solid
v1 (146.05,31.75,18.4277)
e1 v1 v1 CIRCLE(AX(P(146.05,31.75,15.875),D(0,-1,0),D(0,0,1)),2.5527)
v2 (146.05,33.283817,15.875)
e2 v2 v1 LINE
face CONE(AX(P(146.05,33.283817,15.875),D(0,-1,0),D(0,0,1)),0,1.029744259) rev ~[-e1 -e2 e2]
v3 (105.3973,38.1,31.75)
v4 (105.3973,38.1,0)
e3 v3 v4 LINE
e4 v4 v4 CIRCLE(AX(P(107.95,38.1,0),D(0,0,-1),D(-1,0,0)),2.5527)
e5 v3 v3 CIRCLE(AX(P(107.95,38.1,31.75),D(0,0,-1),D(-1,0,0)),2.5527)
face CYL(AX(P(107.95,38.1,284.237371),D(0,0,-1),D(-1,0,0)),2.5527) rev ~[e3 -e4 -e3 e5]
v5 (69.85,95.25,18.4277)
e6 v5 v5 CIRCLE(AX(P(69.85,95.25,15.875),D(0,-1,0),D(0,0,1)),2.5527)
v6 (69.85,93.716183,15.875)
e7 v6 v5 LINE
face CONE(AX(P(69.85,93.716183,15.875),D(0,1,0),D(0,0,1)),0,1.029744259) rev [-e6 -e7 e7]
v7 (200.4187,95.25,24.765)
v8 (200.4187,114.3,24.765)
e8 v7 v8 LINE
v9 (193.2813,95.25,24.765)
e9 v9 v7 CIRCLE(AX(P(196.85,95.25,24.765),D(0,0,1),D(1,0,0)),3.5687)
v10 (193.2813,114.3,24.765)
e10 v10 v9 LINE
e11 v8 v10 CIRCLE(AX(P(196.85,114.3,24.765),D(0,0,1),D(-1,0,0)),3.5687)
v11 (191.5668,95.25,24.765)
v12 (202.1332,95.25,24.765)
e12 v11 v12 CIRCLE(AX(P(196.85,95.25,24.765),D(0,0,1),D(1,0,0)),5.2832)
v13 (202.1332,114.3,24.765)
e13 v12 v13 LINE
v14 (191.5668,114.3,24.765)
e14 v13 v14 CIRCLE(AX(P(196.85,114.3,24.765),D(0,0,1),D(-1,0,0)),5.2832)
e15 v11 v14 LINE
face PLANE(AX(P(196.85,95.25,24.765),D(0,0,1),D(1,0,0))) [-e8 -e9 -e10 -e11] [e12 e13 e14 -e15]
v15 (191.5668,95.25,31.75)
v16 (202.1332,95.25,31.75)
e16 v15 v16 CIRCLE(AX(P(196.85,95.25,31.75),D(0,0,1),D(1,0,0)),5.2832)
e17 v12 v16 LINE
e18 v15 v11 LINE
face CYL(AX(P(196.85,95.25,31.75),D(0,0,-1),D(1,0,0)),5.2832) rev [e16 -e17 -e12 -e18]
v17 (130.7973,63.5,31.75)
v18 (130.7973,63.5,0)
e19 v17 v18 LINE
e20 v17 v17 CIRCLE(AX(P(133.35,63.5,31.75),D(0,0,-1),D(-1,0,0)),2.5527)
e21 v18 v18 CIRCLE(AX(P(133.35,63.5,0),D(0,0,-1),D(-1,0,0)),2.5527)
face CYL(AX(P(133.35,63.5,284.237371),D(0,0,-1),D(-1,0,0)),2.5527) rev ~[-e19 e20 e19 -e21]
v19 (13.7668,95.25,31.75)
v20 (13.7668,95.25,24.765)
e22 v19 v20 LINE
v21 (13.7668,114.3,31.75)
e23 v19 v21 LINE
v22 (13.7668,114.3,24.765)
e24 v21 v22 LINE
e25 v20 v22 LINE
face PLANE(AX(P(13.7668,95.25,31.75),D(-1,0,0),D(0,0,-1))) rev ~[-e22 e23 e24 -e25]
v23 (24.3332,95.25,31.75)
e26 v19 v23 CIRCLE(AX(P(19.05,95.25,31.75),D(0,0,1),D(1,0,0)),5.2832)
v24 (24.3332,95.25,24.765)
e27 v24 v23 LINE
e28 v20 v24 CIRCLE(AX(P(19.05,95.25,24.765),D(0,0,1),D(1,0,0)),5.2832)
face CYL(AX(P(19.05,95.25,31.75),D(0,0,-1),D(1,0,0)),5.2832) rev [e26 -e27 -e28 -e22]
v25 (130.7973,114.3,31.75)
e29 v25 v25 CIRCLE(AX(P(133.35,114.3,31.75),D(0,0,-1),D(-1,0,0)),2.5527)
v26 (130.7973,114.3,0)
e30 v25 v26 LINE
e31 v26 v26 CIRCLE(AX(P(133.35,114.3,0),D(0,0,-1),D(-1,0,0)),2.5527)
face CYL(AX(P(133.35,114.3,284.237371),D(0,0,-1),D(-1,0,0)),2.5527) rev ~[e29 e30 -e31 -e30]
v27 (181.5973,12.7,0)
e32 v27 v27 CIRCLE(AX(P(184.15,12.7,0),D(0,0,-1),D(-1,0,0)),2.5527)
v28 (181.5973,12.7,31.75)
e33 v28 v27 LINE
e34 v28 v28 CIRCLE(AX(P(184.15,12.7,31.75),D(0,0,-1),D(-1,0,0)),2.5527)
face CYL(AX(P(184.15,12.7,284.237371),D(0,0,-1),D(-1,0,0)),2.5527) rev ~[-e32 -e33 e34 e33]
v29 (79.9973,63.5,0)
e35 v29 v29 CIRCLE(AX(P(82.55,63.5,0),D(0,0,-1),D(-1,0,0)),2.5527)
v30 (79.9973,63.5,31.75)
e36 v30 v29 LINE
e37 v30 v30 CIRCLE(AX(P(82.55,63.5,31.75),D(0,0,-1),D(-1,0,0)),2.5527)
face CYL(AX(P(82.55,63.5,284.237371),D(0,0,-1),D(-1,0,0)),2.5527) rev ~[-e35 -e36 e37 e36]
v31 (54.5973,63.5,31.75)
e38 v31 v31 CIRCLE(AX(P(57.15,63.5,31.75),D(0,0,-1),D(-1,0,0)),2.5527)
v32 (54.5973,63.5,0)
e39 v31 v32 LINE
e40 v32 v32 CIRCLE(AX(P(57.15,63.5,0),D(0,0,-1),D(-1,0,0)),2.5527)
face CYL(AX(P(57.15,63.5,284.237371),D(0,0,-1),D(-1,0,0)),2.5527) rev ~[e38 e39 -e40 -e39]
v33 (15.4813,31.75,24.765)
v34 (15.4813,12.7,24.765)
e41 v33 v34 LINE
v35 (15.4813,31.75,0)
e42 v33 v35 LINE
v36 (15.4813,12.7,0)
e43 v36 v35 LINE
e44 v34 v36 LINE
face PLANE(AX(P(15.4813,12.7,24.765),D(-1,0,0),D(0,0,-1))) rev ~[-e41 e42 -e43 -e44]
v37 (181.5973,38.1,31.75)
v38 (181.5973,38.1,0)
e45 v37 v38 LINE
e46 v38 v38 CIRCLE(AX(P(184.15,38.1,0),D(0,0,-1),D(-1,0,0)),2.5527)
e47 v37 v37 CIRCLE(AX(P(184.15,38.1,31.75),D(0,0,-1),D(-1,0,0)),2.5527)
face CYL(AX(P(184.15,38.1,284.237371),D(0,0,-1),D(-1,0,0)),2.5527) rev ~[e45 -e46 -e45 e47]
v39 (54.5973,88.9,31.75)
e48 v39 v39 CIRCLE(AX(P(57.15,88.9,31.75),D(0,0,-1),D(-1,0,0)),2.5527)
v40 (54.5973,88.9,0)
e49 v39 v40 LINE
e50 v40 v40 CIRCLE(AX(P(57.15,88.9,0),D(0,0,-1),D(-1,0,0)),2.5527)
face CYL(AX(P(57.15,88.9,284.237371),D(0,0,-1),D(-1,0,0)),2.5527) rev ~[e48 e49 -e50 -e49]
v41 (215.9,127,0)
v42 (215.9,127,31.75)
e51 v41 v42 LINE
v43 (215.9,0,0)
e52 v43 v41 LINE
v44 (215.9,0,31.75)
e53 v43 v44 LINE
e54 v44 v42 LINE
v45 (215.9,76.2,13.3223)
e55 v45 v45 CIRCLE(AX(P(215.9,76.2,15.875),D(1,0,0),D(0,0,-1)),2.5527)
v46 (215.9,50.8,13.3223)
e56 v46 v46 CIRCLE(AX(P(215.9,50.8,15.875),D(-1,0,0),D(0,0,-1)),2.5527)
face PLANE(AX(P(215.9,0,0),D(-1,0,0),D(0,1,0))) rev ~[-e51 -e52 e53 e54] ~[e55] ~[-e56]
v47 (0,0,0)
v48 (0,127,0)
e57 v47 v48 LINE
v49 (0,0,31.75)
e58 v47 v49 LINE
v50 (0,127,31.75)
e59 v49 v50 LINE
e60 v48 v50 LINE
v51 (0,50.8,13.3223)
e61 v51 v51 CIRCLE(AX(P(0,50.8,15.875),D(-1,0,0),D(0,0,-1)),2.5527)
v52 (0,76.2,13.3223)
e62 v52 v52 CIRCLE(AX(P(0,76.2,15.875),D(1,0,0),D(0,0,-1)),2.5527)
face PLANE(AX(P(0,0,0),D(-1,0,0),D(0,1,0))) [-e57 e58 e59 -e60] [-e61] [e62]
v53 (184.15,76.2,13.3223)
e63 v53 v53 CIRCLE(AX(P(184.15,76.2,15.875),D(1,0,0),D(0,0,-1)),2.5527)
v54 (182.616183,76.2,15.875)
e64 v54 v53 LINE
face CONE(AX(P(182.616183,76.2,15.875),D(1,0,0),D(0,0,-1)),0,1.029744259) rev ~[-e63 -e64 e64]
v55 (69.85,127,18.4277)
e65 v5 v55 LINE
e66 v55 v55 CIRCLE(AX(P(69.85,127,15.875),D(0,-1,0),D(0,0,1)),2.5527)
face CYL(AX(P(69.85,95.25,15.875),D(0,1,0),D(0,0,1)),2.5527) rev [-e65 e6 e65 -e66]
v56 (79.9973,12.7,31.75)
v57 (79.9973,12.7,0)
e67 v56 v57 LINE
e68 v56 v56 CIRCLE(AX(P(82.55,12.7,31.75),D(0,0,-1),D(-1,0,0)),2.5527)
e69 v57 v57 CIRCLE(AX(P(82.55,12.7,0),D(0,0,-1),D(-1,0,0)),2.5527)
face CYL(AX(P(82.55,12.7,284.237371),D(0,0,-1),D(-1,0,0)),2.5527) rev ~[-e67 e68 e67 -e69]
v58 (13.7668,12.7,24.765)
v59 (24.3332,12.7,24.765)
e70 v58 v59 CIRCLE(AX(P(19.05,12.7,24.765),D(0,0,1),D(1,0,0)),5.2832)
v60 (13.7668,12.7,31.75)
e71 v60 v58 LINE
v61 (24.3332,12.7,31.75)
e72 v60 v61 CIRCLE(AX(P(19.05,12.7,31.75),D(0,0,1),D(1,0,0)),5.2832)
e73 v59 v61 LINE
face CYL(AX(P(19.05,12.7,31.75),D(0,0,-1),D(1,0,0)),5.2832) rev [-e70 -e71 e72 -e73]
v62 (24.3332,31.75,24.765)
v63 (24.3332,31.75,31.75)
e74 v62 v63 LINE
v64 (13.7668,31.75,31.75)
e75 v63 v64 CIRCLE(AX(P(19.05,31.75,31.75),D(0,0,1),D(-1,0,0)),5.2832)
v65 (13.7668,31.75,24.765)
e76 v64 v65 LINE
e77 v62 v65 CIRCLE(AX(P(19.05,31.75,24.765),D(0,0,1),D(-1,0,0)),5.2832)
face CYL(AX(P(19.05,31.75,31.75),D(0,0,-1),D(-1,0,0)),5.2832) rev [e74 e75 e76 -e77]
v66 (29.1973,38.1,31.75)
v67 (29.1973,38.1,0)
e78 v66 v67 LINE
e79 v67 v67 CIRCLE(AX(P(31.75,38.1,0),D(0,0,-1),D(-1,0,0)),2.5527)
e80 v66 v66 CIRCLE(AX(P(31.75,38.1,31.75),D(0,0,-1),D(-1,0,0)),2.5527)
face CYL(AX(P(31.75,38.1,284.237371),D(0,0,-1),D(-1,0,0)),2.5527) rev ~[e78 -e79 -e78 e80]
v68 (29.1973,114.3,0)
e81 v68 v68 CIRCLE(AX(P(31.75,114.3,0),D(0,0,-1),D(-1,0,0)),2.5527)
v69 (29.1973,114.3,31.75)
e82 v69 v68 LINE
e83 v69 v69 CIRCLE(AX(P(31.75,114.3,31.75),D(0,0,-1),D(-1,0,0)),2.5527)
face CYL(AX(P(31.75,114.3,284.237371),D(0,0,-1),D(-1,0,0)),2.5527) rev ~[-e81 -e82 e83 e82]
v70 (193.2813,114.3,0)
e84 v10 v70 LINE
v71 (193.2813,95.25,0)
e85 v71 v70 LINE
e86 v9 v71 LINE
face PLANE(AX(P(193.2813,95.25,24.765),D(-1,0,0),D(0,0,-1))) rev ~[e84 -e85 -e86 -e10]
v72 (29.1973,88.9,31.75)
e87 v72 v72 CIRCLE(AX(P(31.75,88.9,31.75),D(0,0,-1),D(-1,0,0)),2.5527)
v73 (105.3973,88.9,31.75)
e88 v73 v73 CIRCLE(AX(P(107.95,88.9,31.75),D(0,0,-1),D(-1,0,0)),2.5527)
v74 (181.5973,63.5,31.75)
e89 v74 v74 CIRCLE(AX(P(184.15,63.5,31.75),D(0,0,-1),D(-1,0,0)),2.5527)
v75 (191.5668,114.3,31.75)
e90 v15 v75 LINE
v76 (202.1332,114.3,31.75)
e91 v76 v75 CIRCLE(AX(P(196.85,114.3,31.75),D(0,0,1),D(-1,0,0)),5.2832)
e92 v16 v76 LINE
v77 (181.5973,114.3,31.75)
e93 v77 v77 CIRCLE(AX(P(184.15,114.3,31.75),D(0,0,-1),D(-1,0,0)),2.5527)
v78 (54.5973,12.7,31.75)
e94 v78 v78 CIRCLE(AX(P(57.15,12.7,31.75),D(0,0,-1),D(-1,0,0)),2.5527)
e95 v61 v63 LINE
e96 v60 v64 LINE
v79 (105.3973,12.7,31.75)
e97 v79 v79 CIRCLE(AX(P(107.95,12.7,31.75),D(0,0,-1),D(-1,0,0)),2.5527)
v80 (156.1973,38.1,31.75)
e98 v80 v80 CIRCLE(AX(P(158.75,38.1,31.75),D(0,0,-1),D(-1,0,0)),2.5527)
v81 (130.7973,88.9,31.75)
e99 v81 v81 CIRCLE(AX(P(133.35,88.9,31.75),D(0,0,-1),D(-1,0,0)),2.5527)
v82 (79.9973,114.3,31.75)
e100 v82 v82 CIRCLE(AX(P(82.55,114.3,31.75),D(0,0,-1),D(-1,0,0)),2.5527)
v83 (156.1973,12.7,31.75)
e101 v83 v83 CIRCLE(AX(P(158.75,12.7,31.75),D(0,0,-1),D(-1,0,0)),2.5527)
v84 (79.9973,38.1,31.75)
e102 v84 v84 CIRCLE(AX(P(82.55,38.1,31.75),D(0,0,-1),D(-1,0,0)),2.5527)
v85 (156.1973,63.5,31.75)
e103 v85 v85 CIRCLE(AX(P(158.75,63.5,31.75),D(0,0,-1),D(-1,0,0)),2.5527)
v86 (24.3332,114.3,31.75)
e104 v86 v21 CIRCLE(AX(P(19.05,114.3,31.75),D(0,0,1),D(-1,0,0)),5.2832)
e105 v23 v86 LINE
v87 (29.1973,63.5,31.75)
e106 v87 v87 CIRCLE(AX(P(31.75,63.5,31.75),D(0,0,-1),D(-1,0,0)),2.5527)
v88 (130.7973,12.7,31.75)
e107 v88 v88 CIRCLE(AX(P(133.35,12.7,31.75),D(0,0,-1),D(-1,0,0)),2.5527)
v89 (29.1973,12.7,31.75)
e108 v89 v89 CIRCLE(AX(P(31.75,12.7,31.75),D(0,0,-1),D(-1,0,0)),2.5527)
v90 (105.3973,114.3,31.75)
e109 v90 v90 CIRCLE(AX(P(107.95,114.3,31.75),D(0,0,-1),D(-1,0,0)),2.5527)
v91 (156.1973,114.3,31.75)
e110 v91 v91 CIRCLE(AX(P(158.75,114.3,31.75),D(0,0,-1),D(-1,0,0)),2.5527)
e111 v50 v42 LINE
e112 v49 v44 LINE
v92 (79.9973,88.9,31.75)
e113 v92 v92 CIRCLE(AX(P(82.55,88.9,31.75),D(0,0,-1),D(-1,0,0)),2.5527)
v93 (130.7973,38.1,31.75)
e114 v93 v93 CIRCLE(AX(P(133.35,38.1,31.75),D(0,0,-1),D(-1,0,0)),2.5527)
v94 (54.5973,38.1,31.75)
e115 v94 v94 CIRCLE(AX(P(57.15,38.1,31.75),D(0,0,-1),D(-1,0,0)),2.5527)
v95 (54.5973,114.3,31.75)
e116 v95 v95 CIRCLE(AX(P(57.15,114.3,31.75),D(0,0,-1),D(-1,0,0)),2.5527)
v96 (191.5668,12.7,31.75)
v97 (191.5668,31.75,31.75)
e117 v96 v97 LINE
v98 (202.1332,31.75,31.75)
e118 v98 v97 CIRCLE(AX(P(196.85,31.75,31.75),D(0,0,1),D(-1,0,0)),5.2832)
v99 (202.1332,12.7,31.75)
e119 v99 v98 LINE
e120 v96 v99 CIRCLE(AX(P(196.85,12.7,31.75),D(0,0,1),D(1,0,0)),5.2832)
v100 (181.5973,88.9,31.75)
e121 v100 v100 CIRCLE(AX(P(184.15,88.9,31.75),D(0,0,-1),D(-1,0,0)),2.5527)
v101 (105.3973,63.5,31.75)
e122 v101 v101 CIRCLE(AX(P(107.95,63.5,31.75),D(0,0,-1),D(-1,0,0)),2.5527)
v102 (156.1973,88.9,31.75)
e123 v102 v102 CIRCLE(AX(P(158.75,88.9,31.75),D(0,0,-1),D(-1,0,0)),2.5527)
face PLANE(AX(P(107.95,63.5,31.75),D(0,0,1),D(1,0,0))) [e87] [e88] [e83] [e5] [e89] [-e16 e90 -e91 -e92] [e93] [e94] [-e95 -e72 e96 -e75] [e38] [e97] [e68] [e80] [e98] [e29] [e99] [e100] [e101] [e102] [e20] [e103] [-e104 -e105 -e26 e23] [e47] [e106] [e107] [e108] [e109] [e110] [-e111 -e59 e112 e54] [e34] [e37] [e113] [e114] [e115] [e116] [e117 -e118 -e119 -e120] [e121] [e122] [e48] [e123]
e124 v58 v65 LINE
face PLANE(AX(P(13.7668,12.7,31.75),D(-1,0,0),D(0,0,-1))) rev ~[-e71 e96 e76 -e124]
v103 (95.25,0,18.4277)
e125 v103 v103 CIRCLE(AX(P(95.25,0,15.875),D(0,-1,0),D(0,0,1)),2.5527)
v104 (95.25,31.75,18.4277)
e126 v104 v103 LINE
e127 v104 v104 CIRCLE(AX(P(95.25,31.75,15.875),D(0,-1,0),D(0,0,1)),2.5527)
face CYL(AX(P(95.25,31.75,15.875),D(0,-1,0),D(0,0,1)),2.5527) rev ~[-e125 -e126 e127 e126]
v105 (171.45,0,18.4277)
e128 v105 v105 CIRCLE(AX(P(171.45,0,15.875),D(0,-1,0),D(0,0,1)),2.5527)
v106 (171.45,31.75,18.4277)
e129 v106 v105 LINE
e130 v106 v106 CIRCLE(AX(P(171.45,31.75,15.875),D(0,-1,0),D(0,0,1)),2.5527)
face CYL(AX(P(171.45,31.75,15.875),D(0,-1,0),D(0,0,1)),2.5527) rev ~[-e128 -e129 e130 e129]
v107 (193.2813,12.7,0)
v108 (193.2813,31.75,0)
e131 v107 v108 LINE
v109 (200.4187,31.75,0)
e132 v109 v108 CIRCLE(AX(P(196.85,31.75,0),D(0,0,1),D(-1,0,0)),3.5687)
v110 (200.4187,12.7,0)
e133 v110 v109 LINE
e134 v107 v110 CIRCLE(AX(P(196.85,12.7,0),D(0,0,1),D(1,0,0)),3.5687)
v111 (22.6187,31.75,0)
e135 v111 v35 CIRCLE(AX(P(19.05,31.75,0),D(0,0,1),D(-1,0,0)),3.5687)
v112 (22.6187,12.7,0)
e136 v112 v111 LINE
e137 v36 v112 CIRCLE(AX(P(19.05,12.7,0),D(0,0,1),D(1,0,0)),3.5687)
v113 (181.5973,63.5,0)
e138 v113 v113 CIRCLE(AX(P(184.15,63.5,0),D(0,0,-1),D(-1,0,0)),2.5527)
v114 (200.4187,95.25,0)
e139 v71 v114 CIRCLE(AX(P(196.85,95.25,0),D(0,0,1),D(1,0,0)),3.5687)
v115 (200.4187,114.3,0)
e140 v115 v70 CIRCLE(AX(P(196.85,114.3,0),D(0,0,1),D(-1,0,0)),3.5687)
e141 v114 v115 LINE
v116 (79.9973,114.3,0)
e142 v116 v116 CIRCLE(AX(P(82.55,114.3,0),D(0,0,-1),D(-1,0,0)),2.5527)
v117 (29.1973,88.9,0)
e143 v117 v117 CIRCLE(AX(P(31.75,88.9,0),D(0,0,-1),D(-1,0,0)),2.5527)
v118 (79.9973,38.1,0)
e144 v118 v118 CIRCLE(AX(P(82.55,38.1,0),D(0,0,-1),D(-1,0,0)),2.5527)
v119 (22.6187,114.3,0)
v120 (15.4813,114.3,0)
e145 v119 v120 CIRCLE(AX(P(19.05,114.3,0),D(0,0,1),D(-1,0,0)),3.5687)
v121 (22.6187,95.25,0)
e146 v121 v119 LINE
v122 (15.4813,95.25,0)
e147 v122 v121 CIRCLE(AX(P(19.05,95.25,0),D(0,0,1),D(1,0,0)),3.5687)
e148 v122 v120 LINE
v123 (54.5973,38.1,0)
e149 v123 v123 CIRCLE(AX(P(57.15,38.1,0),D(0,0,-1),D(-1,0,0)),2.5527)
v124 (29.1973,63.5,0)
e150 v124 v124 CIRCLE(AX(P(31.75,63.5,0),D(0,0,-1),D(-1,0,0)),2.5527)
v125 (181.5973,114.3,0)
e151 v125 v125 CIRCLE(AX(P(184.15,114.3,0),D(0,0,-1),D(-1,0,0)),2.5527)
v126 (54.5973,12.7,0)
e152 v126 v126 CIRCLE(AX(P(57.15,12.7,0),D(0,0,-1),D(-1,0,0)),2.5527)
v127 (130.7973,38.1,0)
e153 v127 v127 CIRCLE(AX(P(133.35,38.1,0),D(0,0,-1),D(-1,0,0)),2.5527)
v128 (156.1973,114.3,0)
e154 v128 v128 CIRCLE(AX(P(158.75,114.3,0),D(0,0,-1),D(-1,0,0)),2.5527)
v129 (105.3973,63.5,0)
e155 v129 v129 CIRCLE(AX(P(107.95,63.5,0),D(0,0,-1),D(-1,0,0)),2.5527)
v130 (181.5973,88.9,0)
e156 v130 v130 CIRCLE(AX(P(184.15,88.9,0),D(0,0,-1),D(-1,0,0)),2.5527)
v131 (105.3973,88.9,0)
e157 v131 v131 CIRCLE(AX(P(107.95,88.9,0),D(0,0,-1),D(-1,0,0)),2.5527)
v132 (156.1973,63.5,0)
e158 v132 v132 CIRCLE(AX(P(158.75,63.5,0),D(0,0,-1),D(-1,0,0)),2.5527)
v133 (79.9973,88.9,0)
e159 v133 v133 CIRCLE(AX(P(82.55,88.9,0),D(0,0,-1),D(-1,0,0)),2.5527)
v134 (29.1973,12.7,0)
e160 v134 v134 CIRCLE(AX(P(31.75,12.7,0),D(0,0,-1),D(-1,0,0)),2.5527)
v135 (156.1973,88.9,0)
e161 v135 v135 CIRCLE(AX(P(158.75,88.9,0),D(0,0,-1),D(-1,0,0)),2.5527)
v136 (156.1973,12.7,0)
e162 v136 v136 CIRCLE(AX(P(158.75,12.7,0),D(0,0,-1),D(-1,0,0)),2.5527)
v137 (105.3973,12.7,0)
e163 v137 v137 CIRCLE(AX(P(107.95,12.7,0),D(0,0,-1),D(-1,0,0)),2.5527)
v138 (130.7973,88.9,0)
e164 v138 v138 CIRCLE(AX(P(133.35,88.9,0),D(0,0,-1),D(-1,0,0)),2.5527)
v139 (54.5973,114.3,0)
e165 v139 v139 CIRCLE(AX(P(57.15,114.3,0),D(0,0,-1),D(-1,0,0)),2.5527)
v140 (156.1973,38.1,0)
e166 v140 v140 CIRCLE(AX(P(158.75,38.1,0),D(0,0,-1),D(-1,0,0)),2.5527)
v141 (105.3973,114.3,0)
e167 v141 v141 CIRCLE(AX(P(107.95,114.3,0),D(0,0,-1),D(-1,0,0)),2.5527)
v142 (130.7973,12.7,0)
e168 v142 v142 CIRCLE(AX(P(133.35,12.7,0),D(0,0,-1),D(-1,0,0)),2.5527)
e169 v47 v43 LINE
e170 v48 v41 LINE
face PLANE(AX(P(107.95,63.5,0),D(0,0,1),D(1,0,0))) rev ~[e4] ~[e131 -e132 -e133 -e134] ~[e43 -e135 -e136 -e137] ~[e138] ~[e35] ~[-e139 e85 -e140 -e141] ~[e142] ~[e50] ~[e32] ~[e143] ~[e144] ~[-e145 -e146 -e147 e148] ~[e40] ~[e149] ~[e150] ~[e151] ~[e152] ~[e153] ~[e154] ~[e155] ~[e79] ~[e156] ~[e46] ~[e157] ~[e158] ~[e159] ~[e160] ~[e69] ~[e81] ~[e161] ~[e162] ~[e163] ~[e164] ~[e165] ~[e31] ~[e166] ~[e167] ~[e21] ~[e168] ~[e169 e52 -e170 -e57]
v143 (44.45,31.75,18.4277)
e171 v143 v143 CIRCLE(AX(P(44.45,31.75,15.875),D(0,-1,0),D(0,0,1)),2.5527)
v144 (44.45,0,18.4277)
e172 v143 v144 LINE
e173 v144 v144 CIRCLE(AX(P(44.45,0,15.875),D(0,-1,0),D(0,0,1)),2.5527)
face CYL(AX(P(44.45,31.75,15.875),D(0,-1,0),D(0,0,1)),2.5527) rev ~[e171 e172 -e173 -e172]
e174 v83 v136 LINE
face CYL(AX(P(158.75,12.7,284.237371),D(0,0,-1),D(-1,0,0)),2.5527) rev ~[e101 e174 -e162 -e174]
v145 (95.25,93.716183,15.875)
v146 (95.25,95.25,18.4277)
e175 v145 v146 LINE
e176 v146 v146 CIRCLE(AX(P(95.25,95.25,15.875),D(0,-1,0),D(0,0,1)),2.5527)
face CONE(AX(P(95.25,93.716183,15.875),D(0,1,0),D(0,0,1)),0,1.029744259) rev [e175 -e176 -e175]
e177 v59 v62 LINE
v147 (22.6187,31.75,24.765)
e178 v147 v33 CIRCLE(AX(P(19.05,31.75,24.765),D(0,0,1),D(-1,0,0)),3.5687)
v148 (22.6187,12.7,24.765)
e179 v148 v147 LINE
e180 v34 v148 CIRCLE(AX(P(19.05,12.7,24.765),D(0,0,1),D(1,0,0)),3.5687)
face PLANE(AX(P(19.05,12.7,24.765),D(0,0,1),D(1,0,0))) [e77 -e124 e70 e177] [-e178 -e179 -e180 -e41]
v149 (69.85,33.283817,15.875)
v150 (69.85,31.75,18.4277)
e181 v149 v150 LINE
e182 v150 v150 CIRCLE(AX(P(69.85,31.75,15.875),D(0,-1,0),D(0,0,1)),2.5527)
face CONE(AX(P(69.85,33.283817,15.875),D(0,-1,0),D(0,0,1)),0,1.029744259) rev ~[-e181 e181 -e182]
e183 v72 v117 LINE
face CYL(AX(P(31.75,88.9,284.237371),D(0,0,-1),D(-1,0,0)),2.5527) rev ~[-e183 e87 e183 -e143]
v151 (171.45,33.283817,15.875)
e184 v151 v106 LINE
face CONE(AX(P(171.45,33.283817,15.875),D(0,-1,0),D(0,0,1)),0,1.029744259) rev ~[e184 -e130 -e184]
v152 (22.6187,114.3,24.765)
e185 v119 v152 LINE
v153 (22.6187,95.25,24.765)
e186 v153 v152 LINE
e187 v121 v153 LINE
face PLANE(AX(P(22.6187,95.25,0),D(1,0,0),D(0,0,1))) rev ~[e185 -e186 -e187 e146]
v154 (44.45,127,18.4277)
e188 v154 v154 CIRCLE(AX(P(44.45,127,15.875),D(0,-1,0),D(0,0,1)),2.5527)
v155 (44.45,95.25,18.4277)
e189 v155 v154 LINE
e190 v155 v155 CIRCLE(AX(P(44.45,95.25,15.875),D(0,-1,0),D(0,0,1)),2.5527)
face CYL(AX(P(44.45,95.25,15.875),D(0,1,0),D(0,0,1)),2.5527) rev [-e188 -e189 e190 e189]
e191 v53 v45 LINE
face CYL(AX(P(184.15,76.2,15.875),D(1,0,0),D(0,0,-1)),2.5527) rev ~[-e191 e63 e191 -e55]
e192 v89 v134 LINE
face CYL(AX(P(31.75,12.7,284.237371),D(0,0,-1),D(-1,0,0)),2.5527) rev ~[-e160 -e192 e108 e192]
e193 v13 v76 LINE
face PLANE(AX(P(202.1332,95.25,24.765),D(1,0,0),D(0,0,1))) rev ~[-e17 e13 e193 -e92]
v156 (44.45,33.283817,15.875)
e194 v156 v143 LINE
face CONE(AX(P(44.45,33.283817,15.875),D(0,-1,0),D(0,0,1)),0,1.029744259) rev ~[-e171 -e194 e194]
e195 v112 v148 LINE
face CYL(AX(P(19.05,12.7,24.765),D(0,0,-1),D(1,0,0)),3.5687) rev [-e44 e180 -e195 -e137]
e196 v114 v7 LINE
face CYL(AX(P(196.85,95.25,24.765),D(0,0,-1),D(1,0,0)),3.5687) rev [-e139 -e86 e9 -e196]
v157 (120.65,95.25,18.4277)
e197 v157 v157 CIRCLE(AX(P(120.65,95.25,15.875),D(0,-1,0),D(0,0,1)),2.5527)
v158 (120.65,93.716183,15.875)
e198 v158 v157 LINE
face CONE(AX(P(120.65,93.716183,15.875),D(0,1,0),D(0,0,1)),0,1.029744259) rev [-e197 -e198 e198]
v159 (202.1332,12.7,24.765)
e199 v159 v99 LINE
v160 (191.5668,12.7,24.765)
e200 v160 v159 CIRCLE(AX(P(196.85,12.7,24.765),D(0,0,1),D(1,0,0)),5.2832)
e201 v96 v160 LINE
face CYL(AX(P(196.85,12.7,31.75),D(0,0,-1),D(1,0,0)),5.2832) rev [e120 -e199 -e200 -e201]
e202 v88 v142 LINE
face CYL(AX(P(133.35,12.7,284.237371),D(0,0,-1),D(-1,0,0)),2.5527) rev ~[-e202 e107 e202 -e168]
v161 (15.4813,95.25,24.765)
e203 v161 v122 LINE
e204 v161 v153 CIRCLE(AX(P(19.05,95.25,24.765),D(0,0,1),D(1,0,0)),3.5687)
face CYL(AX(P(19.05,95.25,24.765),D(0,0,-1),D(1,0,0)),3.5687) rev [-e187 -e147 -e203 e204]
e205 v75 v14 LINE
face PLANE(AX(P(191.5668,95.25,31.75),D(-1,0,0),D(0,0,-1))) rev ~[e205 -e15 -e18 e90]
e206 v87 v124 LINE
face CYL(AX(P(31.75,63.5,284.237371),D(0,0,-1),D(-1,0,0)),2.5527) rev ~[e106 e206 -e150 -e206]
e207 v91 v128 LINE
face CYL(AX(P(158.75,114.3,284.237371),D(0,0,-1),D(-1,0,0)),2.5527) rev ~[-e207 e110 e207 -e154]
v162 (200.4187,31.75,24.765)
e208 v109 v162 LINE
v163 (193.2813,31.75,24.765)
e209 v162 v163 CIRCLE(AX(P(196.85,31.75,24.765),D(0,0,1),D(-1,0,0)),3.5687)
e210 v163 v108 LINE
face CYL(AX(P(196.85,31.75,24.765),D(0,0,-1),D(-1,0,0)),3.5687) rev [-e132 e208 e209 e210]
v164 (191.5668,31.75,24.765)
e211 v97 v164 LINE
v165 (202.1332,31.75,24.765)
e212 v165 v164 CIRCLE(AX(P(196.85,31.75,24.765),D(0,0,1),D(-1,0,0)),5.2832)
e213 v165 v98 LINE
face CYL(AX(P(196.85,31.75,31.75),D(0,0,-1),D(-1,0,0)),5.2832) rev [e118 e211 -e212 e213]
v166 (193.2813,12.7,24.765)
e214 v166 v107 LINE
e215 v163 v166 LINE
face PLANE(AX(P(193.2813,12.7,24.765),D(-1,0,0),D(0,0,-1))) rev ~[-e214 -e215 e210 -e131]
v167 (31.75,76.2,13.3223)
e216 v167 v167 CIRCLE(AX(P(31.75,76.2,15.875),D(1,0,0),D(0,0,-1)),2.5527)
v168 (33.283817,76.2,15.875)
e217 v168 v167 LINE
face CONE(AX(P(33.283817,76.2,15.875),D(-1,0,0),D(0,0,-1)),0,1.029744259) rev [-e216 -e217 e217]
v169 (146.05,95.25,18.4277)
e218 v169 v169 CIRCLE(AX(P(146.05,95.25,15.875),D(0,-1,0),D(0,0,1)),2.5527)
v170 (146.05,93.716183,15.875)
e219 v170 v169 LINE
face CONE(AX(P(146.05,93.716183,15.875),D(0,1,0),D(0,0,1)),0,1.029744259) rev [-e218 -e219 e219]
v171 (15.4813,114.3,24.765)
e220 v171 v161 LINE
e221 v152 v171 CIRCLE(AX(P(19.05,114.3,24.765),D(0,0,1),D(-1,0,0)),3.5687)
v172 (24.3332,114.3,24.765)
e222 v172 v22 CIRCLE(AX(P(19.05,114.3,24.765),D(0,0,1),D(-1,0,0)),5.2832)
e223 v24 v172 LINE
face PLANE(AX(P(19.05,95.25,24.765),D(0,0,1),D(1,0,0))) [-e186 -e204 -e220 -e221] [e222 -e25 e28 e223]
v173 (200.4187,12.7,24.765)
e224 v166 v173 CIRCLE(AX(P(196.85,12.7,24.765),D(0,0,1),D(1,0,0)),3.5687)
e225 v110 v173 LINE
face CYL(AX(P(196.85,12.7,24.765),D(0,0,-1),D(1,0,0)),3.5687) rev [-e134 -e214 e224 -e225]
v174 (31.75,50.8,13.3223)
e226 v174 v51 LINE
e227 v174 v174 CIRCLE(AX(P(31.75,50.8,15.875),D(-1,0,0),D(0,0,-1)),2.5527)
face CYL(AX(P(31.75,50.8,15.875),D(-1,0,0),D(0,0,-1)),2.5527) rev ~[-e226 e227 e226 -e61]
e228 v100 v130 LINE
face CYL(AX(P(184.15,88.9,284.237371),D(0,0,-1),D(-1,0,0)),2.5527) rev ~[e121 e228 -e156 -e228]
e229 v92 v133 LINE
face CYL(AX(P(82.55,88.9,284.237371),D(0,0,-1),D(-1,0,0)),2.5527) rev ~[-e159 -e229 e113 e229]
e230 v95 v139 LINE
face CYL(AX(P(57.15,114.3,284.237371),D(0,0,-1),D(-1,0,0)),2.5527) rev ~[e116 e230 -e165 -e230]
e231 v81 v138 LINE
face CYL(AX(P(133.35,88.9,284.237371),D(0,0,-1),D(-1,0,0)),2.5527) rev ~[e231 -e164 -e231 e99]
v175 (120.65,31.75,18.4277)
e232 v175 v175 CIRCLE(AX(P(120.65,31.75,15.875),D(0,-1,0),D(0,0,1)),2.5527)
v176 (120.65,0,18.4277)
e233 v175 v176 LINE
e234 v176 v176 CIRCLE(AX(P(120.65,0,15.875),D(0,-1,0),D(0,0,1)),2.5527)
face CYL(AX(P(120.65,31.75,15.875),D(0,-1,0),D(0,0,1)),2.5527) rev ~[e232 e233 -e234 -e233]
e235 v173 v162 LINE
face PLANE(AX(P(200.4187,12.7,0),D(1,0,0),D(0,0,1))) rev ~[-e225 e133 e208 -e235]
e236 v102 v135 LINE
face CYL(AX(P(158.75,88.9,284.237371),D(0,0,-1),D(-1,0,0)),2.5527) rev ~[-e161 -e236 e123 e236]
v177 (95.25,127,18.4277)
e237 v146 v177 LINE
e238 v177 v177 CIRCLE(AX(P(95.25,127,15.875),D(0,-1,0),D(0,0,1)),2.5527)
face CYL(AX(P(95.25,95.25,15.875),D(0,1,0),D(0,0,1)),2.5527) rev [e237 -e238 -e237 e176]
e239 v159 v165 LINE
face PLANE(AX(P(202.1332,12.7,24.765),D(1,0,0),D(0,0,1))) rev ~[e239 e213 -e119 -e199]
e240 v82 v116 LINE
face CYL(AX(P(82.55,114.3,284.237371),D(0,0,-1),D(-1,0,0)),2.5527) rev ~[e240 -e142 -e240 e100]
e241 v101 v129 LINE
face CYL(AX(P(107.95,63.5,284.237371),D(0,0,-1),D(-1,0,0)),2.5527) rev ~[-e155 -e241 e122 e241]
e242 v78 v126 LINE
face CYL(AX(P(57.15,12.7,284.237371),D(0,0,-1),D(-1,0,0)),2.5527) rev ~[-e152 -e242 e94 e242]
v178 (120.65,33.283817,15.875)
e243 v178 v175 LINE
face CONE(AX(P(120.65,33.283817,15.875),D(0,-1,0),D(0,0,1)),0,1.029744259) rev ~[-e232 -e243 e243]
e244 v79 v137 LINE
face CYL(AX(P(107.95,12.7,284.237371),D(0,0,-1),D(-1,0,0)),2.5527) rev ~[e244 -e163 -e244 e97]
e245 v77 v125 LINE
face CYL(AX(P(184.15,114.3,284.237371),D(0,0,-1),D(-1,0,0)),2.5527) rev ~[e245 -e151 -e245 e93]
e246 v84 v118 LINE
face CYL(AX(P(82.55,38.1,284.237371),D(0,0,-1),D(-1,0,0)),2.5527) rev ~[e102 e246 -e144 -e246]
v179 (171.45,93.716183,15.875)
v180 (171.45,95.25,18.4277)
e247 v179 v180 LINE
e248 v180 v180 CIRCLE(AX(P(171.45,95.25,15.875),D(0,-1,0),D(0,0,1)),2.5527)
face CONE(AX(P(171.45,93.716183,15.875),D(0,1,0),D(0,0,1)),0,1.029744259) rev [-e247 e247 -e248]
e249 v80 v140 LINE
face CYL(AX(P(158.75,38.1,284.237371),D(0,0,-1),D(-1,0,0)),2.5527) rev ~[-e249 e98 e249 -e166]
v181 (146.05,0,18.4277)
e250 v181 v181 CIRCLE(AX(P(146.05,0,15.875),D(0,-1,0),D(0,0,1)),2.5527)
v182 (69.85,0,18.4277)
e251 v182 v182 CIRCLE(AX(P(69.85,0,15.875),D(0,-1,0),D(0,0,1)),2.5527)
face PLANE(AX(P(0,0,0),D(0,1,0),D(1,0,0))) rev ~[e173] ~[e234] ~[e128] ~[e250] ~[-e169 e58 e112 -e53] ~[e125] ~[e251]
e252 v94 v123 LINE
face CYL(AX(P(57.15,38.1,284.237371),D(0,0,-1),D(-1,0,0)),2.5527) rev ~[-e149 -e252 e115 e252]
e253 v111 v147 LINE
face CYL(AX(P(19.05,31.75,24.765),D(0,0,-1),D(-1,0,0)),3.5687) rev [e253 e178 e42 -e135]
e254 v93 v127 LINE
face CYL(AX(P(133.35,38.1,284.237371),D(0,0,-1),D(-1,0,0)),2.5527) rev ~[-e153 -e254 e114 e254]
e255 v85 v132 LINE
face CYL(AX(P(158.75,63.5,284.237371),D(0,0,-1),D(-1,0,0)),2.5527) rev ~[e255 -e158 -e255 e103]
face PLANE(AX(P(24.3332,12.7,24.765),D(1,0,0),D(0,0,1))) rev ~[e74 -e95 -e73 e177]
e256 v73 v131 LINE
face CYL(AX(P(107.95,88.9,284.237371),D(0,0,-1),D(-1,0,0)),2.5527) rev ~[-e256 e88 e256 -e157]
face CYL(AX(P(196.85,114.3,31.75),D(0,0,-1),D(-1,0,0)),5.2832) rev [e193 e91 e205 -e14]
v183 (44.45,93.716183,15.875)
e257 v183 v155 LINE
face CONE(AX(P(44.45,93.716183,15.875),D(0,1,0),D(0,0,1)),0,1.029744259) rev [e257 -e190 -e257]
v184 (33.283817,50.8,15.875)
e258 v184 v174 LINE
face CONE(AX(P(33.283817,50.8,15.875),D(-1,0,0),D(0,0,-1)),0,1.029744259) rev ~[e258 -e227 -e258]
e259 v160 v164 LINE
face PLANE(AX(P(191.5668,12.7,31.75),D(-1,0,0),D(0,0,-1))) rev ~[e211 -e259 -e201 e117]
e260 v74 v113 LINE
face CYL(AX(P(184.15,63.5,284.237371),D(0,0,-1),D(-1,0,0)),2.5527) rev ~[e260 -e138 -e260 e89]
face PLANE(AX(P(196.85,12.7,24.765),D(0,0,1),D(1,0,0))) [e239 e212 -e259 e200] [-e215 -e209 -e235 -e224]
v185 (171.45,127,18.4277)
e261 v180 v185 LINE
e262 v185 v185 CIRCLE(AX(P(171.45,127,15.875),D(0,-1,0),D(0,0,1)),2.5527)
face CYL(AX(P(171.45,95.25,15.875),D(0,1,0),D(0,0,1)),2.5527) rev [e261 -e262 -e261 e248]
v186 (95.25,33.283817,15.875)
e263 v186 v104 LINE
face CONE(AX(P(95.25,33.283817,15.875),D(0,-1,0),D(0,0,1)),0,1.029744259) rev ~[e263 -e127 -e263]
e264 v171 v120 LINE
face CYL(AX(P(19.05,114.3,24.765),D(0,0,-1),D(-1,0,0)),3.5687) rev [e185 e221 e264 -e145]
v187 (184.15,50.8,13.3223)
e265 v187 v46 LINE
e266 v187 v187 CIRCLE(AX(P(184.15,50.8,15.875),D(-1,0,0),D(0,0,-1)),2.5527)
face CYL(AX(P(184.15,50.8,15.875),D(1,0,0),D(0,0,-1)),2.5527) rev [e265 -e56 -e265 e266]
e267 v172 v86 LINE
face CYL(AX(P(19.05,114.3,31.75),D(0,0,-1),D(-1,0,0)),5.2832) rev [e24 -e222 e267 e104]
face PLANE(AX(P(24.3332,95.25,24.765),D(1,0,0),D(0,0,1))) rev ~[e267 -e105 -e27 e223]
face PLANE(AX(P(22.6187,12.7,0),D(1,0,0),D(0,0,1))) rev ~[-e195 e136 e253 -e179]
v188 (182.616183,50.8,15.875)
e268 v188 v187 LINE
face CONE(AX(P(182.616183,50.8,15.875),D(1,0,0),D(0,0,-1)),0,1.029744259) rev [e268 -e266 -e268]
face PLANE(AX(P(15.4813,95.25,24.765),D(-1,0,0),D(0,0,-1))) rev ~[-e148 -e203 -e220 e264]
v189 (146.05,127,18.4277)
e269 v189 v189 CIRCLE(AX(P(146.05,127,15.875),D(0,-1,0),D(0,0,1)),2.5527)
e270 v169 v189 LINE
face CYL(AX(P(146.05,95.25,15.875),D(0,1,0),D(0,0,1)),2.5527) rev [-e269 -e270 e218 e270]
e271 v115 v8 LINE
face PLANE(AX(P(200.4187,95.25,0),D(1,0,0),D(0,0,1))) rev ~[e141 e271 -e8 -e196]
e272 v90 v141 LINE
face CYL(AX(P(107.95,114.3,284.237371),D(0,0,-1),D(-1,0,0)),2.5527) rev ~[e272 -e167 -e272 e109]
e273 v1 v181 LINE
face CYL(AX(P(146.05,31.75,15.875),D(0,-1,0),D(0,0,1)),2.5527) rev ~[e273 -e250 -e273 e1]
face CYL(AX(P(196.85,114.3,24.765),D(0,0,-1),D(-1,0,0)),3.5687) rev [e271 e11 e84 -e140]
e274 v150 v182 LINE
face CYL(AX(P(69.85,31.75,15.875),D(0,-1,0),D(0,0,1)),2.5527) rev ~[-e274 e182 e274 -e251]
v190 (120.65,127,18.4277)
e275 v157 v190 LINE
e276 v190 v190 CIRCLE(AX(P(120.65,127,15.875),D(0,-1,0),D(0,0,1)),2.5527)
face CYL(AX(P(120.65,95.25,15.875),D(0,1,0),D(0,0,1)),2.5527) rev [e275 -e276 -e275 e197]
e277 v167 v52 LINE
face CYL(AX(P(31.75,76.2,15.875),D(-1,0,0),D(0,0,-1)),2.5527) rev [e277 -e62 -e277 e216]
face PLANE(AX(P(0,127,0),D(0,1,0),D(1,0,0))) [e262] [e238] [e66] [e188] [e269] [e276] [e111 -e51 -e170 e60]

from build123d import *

# Parameters (mm, degrees)
SKETCH1_W               = 215.9
SKETCH1_H               = 127
BOSS_EXTRUDE1_DEPTH     = 31.75
CUT_EXTRUDE1_START      = -12.7
CUT_EXTRUDE1_DEPTH      = 19.05
LPATTERN1_COUNT         = 2
LPATTERN1_PITCH         = 82.55
LPATTERN1_COUNT_DIR2    = 2
LPATTERN1_PITCH_DIR2    = 177.8
F_1_4_20_TAPPED_HOLE1_D = 5.1054
LPATTERN7_COUNT         = 6
LPATTERN7_PITCH         = 25.4
LPATTERN10_COUNT        = 7
LPATTERN10_PITCH        = 25.4
LPATTERN10_COUNT_DIR2   = 5
LPATTERN10_PITCH_DIR2   = 25.4


with BuildPart() as part:
    # Sketch1 → Boss-Extrude1 (new body)
    with BuildSketch(Plane.XY):
        with Locations((107.95, 63.5)):
            Rectangle(SKETCH1_W, SKETCH1_H)
    extrude(amount=BOSS_EXTRUDE1_DEPTH)

    # Sketch2 → Cut-Extrude1 (cut)
    with BuildSketch(Plane.XZ.offset(CUT_EXTRUDE1_START)):
        Polygon((13.7668, 31.75), (13.7668, 24.765), (15.4813, 24.765), (15.4813, 0), (22.6187, 0), (22.6187, 24.765), (24.3332, 24.765), (24.3332, 31.75), align=None)
    cut_extrude1 = extrude(amount=-CUT_EXTRUDE1_DEPTH, mode=Mode.SUBTRACT)

    # Sketch4 → Cut-Revolve3 (revolve, cut)
    with BuildSketch(Plane.XZ.offset(-31.75)):
        Polygon((19.05, 0), (19.05, 31.75), (13.7668, 31.75), (13.7668, 24.765), (15.4813, 24.765), (15.4813, 0), align=None)
    cut_revolve3 = revolve(axis=Axis((19.05, 31.75, 0), (0, 0, 1)), mode=Mode.SUBTRACT)

    # Sketch6 → Cut-Revolve4 (revolve, cut)
    with BuildSketch(Plane(origin=(0, 12.7, 0), x_dir=(1, 0, 0), z_dir=(0, 1, 0))):
        Polygon((19.05, 0), (19.05, -31.75), (24.3332, -31.75), (24.3332, -24.765), (22.6187, -24.765), (22.6187, 0), align=None)
    cut_revolve4 = revolve(axis=Axis((19.05, 12.7, 0), (0, 0, 1)), mode=Mode.SUBTRACT)

    # LPattern1: Cut-Extrude1, Cut-Revolve3, Cut-Revolve4 2 × 2
    with Locations(*[(j * LPATTERN1_PITCH_DIR2, i * LPATTERN1_PITCH, 0) for i in range(LPATTERN1_COUNT) for j in range(LPATTERN1_COUNT_DIR2) if (i, j) != (0, 0)]):
        add(cut_extrude1, mode=Mode.SUBTRACT)
        add(cut_revolve3, mode=Mode.SUBTRACT)
        add(cut_revolve4, mode=Mode.SUBTRACT)

    # 1/4-20 Tapped Hole1 (through all)
    with Locations(Plane.XY.offset(31.75)):
        with Locations((31.75, 12.7)):
            f_1_4_20_tapped_hole1 = Hole(F_1_4_20_TAPPED_HOLE1_D / 2)

    # Sketch14 → 1/4-20 Tapped Hole3 (revolve, cut)
    with BuildSketch(Plane(origin=(215.9, 50.8, 15.875), x_dir=(0, 0, -1), z_dir=(0, 1, 0))):
        Polygon((0, 0), (0, 33.283816902), (2.5527, 31.75), (2.5527, 0), align=None)
    f_1_4_20_tapped_hole3 = revolve(axis=Axis((222.25, 50.8, 15.875), (-1, 0, 0)), mode=Mode.SUBTRACT)

    # Sketch22 → 1/4-20 Tapped Hole5 (revolve, cut)
    with BuildSketch(Plane(origin=(171.45, 127, 15.875), x_dir=(0, 0, 1), z_dir=(1, 0, 0))):
        Polygon((0, 0), (0, 33.283816902), (2.5527, 31.75), (2.5527, 0), align=None)
    f_1_4_20_tapped_hole5 = revolve(axis=Axis((171.45, 133.35, 15.875), (0, -1, 0)), mode=Mode.SUBTRACT)

    # LPattern7: 1/4-20 Tapped Hole5 ×6
    with Locations(*[(-i * LPATTERN7_PITCH, 0, 0) for i in range(1, LPATTERN7_COUNT)]):
        add(f_1_4_20_tapped_hole5, mode=Mode.SUBTRACT)

    # LPattern10: 1_4-20 Tapped Hole1 7 × 5
    with Locations(*[(i * LPATTERN10_PITCH, j * LPATTERN10_PITCH_DIR2, 0) for i in range(LPATTERN10_COUNT) for j in range(LPATTERN10_COUNT_DIR2) if (i, j) != (0, 0)]):
        add(f_1_4_20_tapped_hole1, mode=Mode.SUBTRACT)

    # Mirror1: 1/4-20 Tapped Hole3 across plane
    add(f_1_4_20_tapped_hole3.mirror(Plane(origin=(107.95, 0, 0), x_dir=(0, 0, 1), z_dir=(1, 0, 0))), mode=Mode.SUBTRACT)

    # Mirror2: 1/4-20 Tapped Hole3 across plane
    add(f_1_4_20_tapped_hole3.mirror(Plane.ZX.offset(63.5)), mode=Mode.SUBTRACT)

    # Mirror2 copy 1 sketch → Mirror2 copy 1 (revolve, cut)
    with BuildSketch(Plane(origin=(0, 76.2, 15.875), x_dir=(0, 0, -1), z_dir=(0, -1, 0))):
        Polygon((0, 0), (0, 33.283816902), (2.5527, 31.75), (2.5527, 0), align=None)
    revolve(axis=Axis((-6.35, 76.2, 15.875), (1, 0, 0)), mode=Mode.SUBTRACT)

    # Mirror3: 1/4-20 Tapped Hole5 across plane
    add(f_1_4_20_tapped_hole5.mirror(Plane.ZX.offset(63.5)), mode=Mode.SUBTRACT)

    # Mirror3 copy 1 sketch → Mirror3 copy 1 (revolve, cut)
    with BuildSketch(Plane(origin=(146.05, 0, 15.875), x_dir=(0, 0, 1), z_dir=(1, 0, 0))):
        Polygon((0, 0), (0, -33.283816902), (2.5527, -31.75), (2.5527, 0), align=None)
    revolve(axis=Axis((146.05, -6.35, 15.875), (0, -1, 0)), mode=Mode.SUBTRACT)

    # Mirror3 copy 2 sketch → Mirror3 copy 2 (revolve, cut)
    with BuildSketch(Plane(origin=(120.65, 0, 15.875), x_dir=(0, 0, 1), z_dir=(1, 0, 0))):
        Polygon((0, 0), (0, -33.283816902), (2.5527, -31.75), (2.5527, 0), align=None)
    revolve(axis=Axis((120.65, -6.35, 15.875), (0, -1, 0)), mode=Mode.SUBTRACT)

    # Mirror3 copy 3 sketch → Mirror3 copy 3 (revolve, cut)
    with BuildSketch(Plane(origin=(95.25, 0, 15.875), x_dir=(0, 0, 1), z_dir=(1, 0, 0))):
        Polygon((0, 0), (0, -33.283816902), (2.5527, -31.75), (2.5527, 0), align=None)
    revolve(axis=Axis((95.25, -6.35, 15.875), (0, -1, 0)), mode=Mode.SUBTRACT)

    # Mirror3 copy 4 sketch → Mirror3 copy 4 (revolve, cut)
    with BuildSketch(Plane(origin=(69.85, 0, 15.875), x_dir=(0, 0, 1), z_dir=(1, 0, 0))):
        Polygon((0, 0), (0, -33.283816902), (2.5527, -31.75), (2.5527, 0), align=None)
    revolve(axis=Axis((69.85, -6.35, 15.875), (0, -1, 0)), mode=Mode.SUBTRACT)

    # Mirror3 copy 5 sketch → Mirror3 copy 5 (revolve, cut)
    with BuildSketch(Plane(origin=(44.45, 0, 15.875), x_dir=(0, 0, 1), z_dir=(1, 0, 0))):
        Polygon((0, 0), (0, -33.283816902), (2.5527, -31.75), (2.5527, 0), align=None)
    revolve(axis=Axis((44.45, -6.35, 15.875), (0, -1, 0)), mode=Mode.SUBTRACT)


solid = part.part
